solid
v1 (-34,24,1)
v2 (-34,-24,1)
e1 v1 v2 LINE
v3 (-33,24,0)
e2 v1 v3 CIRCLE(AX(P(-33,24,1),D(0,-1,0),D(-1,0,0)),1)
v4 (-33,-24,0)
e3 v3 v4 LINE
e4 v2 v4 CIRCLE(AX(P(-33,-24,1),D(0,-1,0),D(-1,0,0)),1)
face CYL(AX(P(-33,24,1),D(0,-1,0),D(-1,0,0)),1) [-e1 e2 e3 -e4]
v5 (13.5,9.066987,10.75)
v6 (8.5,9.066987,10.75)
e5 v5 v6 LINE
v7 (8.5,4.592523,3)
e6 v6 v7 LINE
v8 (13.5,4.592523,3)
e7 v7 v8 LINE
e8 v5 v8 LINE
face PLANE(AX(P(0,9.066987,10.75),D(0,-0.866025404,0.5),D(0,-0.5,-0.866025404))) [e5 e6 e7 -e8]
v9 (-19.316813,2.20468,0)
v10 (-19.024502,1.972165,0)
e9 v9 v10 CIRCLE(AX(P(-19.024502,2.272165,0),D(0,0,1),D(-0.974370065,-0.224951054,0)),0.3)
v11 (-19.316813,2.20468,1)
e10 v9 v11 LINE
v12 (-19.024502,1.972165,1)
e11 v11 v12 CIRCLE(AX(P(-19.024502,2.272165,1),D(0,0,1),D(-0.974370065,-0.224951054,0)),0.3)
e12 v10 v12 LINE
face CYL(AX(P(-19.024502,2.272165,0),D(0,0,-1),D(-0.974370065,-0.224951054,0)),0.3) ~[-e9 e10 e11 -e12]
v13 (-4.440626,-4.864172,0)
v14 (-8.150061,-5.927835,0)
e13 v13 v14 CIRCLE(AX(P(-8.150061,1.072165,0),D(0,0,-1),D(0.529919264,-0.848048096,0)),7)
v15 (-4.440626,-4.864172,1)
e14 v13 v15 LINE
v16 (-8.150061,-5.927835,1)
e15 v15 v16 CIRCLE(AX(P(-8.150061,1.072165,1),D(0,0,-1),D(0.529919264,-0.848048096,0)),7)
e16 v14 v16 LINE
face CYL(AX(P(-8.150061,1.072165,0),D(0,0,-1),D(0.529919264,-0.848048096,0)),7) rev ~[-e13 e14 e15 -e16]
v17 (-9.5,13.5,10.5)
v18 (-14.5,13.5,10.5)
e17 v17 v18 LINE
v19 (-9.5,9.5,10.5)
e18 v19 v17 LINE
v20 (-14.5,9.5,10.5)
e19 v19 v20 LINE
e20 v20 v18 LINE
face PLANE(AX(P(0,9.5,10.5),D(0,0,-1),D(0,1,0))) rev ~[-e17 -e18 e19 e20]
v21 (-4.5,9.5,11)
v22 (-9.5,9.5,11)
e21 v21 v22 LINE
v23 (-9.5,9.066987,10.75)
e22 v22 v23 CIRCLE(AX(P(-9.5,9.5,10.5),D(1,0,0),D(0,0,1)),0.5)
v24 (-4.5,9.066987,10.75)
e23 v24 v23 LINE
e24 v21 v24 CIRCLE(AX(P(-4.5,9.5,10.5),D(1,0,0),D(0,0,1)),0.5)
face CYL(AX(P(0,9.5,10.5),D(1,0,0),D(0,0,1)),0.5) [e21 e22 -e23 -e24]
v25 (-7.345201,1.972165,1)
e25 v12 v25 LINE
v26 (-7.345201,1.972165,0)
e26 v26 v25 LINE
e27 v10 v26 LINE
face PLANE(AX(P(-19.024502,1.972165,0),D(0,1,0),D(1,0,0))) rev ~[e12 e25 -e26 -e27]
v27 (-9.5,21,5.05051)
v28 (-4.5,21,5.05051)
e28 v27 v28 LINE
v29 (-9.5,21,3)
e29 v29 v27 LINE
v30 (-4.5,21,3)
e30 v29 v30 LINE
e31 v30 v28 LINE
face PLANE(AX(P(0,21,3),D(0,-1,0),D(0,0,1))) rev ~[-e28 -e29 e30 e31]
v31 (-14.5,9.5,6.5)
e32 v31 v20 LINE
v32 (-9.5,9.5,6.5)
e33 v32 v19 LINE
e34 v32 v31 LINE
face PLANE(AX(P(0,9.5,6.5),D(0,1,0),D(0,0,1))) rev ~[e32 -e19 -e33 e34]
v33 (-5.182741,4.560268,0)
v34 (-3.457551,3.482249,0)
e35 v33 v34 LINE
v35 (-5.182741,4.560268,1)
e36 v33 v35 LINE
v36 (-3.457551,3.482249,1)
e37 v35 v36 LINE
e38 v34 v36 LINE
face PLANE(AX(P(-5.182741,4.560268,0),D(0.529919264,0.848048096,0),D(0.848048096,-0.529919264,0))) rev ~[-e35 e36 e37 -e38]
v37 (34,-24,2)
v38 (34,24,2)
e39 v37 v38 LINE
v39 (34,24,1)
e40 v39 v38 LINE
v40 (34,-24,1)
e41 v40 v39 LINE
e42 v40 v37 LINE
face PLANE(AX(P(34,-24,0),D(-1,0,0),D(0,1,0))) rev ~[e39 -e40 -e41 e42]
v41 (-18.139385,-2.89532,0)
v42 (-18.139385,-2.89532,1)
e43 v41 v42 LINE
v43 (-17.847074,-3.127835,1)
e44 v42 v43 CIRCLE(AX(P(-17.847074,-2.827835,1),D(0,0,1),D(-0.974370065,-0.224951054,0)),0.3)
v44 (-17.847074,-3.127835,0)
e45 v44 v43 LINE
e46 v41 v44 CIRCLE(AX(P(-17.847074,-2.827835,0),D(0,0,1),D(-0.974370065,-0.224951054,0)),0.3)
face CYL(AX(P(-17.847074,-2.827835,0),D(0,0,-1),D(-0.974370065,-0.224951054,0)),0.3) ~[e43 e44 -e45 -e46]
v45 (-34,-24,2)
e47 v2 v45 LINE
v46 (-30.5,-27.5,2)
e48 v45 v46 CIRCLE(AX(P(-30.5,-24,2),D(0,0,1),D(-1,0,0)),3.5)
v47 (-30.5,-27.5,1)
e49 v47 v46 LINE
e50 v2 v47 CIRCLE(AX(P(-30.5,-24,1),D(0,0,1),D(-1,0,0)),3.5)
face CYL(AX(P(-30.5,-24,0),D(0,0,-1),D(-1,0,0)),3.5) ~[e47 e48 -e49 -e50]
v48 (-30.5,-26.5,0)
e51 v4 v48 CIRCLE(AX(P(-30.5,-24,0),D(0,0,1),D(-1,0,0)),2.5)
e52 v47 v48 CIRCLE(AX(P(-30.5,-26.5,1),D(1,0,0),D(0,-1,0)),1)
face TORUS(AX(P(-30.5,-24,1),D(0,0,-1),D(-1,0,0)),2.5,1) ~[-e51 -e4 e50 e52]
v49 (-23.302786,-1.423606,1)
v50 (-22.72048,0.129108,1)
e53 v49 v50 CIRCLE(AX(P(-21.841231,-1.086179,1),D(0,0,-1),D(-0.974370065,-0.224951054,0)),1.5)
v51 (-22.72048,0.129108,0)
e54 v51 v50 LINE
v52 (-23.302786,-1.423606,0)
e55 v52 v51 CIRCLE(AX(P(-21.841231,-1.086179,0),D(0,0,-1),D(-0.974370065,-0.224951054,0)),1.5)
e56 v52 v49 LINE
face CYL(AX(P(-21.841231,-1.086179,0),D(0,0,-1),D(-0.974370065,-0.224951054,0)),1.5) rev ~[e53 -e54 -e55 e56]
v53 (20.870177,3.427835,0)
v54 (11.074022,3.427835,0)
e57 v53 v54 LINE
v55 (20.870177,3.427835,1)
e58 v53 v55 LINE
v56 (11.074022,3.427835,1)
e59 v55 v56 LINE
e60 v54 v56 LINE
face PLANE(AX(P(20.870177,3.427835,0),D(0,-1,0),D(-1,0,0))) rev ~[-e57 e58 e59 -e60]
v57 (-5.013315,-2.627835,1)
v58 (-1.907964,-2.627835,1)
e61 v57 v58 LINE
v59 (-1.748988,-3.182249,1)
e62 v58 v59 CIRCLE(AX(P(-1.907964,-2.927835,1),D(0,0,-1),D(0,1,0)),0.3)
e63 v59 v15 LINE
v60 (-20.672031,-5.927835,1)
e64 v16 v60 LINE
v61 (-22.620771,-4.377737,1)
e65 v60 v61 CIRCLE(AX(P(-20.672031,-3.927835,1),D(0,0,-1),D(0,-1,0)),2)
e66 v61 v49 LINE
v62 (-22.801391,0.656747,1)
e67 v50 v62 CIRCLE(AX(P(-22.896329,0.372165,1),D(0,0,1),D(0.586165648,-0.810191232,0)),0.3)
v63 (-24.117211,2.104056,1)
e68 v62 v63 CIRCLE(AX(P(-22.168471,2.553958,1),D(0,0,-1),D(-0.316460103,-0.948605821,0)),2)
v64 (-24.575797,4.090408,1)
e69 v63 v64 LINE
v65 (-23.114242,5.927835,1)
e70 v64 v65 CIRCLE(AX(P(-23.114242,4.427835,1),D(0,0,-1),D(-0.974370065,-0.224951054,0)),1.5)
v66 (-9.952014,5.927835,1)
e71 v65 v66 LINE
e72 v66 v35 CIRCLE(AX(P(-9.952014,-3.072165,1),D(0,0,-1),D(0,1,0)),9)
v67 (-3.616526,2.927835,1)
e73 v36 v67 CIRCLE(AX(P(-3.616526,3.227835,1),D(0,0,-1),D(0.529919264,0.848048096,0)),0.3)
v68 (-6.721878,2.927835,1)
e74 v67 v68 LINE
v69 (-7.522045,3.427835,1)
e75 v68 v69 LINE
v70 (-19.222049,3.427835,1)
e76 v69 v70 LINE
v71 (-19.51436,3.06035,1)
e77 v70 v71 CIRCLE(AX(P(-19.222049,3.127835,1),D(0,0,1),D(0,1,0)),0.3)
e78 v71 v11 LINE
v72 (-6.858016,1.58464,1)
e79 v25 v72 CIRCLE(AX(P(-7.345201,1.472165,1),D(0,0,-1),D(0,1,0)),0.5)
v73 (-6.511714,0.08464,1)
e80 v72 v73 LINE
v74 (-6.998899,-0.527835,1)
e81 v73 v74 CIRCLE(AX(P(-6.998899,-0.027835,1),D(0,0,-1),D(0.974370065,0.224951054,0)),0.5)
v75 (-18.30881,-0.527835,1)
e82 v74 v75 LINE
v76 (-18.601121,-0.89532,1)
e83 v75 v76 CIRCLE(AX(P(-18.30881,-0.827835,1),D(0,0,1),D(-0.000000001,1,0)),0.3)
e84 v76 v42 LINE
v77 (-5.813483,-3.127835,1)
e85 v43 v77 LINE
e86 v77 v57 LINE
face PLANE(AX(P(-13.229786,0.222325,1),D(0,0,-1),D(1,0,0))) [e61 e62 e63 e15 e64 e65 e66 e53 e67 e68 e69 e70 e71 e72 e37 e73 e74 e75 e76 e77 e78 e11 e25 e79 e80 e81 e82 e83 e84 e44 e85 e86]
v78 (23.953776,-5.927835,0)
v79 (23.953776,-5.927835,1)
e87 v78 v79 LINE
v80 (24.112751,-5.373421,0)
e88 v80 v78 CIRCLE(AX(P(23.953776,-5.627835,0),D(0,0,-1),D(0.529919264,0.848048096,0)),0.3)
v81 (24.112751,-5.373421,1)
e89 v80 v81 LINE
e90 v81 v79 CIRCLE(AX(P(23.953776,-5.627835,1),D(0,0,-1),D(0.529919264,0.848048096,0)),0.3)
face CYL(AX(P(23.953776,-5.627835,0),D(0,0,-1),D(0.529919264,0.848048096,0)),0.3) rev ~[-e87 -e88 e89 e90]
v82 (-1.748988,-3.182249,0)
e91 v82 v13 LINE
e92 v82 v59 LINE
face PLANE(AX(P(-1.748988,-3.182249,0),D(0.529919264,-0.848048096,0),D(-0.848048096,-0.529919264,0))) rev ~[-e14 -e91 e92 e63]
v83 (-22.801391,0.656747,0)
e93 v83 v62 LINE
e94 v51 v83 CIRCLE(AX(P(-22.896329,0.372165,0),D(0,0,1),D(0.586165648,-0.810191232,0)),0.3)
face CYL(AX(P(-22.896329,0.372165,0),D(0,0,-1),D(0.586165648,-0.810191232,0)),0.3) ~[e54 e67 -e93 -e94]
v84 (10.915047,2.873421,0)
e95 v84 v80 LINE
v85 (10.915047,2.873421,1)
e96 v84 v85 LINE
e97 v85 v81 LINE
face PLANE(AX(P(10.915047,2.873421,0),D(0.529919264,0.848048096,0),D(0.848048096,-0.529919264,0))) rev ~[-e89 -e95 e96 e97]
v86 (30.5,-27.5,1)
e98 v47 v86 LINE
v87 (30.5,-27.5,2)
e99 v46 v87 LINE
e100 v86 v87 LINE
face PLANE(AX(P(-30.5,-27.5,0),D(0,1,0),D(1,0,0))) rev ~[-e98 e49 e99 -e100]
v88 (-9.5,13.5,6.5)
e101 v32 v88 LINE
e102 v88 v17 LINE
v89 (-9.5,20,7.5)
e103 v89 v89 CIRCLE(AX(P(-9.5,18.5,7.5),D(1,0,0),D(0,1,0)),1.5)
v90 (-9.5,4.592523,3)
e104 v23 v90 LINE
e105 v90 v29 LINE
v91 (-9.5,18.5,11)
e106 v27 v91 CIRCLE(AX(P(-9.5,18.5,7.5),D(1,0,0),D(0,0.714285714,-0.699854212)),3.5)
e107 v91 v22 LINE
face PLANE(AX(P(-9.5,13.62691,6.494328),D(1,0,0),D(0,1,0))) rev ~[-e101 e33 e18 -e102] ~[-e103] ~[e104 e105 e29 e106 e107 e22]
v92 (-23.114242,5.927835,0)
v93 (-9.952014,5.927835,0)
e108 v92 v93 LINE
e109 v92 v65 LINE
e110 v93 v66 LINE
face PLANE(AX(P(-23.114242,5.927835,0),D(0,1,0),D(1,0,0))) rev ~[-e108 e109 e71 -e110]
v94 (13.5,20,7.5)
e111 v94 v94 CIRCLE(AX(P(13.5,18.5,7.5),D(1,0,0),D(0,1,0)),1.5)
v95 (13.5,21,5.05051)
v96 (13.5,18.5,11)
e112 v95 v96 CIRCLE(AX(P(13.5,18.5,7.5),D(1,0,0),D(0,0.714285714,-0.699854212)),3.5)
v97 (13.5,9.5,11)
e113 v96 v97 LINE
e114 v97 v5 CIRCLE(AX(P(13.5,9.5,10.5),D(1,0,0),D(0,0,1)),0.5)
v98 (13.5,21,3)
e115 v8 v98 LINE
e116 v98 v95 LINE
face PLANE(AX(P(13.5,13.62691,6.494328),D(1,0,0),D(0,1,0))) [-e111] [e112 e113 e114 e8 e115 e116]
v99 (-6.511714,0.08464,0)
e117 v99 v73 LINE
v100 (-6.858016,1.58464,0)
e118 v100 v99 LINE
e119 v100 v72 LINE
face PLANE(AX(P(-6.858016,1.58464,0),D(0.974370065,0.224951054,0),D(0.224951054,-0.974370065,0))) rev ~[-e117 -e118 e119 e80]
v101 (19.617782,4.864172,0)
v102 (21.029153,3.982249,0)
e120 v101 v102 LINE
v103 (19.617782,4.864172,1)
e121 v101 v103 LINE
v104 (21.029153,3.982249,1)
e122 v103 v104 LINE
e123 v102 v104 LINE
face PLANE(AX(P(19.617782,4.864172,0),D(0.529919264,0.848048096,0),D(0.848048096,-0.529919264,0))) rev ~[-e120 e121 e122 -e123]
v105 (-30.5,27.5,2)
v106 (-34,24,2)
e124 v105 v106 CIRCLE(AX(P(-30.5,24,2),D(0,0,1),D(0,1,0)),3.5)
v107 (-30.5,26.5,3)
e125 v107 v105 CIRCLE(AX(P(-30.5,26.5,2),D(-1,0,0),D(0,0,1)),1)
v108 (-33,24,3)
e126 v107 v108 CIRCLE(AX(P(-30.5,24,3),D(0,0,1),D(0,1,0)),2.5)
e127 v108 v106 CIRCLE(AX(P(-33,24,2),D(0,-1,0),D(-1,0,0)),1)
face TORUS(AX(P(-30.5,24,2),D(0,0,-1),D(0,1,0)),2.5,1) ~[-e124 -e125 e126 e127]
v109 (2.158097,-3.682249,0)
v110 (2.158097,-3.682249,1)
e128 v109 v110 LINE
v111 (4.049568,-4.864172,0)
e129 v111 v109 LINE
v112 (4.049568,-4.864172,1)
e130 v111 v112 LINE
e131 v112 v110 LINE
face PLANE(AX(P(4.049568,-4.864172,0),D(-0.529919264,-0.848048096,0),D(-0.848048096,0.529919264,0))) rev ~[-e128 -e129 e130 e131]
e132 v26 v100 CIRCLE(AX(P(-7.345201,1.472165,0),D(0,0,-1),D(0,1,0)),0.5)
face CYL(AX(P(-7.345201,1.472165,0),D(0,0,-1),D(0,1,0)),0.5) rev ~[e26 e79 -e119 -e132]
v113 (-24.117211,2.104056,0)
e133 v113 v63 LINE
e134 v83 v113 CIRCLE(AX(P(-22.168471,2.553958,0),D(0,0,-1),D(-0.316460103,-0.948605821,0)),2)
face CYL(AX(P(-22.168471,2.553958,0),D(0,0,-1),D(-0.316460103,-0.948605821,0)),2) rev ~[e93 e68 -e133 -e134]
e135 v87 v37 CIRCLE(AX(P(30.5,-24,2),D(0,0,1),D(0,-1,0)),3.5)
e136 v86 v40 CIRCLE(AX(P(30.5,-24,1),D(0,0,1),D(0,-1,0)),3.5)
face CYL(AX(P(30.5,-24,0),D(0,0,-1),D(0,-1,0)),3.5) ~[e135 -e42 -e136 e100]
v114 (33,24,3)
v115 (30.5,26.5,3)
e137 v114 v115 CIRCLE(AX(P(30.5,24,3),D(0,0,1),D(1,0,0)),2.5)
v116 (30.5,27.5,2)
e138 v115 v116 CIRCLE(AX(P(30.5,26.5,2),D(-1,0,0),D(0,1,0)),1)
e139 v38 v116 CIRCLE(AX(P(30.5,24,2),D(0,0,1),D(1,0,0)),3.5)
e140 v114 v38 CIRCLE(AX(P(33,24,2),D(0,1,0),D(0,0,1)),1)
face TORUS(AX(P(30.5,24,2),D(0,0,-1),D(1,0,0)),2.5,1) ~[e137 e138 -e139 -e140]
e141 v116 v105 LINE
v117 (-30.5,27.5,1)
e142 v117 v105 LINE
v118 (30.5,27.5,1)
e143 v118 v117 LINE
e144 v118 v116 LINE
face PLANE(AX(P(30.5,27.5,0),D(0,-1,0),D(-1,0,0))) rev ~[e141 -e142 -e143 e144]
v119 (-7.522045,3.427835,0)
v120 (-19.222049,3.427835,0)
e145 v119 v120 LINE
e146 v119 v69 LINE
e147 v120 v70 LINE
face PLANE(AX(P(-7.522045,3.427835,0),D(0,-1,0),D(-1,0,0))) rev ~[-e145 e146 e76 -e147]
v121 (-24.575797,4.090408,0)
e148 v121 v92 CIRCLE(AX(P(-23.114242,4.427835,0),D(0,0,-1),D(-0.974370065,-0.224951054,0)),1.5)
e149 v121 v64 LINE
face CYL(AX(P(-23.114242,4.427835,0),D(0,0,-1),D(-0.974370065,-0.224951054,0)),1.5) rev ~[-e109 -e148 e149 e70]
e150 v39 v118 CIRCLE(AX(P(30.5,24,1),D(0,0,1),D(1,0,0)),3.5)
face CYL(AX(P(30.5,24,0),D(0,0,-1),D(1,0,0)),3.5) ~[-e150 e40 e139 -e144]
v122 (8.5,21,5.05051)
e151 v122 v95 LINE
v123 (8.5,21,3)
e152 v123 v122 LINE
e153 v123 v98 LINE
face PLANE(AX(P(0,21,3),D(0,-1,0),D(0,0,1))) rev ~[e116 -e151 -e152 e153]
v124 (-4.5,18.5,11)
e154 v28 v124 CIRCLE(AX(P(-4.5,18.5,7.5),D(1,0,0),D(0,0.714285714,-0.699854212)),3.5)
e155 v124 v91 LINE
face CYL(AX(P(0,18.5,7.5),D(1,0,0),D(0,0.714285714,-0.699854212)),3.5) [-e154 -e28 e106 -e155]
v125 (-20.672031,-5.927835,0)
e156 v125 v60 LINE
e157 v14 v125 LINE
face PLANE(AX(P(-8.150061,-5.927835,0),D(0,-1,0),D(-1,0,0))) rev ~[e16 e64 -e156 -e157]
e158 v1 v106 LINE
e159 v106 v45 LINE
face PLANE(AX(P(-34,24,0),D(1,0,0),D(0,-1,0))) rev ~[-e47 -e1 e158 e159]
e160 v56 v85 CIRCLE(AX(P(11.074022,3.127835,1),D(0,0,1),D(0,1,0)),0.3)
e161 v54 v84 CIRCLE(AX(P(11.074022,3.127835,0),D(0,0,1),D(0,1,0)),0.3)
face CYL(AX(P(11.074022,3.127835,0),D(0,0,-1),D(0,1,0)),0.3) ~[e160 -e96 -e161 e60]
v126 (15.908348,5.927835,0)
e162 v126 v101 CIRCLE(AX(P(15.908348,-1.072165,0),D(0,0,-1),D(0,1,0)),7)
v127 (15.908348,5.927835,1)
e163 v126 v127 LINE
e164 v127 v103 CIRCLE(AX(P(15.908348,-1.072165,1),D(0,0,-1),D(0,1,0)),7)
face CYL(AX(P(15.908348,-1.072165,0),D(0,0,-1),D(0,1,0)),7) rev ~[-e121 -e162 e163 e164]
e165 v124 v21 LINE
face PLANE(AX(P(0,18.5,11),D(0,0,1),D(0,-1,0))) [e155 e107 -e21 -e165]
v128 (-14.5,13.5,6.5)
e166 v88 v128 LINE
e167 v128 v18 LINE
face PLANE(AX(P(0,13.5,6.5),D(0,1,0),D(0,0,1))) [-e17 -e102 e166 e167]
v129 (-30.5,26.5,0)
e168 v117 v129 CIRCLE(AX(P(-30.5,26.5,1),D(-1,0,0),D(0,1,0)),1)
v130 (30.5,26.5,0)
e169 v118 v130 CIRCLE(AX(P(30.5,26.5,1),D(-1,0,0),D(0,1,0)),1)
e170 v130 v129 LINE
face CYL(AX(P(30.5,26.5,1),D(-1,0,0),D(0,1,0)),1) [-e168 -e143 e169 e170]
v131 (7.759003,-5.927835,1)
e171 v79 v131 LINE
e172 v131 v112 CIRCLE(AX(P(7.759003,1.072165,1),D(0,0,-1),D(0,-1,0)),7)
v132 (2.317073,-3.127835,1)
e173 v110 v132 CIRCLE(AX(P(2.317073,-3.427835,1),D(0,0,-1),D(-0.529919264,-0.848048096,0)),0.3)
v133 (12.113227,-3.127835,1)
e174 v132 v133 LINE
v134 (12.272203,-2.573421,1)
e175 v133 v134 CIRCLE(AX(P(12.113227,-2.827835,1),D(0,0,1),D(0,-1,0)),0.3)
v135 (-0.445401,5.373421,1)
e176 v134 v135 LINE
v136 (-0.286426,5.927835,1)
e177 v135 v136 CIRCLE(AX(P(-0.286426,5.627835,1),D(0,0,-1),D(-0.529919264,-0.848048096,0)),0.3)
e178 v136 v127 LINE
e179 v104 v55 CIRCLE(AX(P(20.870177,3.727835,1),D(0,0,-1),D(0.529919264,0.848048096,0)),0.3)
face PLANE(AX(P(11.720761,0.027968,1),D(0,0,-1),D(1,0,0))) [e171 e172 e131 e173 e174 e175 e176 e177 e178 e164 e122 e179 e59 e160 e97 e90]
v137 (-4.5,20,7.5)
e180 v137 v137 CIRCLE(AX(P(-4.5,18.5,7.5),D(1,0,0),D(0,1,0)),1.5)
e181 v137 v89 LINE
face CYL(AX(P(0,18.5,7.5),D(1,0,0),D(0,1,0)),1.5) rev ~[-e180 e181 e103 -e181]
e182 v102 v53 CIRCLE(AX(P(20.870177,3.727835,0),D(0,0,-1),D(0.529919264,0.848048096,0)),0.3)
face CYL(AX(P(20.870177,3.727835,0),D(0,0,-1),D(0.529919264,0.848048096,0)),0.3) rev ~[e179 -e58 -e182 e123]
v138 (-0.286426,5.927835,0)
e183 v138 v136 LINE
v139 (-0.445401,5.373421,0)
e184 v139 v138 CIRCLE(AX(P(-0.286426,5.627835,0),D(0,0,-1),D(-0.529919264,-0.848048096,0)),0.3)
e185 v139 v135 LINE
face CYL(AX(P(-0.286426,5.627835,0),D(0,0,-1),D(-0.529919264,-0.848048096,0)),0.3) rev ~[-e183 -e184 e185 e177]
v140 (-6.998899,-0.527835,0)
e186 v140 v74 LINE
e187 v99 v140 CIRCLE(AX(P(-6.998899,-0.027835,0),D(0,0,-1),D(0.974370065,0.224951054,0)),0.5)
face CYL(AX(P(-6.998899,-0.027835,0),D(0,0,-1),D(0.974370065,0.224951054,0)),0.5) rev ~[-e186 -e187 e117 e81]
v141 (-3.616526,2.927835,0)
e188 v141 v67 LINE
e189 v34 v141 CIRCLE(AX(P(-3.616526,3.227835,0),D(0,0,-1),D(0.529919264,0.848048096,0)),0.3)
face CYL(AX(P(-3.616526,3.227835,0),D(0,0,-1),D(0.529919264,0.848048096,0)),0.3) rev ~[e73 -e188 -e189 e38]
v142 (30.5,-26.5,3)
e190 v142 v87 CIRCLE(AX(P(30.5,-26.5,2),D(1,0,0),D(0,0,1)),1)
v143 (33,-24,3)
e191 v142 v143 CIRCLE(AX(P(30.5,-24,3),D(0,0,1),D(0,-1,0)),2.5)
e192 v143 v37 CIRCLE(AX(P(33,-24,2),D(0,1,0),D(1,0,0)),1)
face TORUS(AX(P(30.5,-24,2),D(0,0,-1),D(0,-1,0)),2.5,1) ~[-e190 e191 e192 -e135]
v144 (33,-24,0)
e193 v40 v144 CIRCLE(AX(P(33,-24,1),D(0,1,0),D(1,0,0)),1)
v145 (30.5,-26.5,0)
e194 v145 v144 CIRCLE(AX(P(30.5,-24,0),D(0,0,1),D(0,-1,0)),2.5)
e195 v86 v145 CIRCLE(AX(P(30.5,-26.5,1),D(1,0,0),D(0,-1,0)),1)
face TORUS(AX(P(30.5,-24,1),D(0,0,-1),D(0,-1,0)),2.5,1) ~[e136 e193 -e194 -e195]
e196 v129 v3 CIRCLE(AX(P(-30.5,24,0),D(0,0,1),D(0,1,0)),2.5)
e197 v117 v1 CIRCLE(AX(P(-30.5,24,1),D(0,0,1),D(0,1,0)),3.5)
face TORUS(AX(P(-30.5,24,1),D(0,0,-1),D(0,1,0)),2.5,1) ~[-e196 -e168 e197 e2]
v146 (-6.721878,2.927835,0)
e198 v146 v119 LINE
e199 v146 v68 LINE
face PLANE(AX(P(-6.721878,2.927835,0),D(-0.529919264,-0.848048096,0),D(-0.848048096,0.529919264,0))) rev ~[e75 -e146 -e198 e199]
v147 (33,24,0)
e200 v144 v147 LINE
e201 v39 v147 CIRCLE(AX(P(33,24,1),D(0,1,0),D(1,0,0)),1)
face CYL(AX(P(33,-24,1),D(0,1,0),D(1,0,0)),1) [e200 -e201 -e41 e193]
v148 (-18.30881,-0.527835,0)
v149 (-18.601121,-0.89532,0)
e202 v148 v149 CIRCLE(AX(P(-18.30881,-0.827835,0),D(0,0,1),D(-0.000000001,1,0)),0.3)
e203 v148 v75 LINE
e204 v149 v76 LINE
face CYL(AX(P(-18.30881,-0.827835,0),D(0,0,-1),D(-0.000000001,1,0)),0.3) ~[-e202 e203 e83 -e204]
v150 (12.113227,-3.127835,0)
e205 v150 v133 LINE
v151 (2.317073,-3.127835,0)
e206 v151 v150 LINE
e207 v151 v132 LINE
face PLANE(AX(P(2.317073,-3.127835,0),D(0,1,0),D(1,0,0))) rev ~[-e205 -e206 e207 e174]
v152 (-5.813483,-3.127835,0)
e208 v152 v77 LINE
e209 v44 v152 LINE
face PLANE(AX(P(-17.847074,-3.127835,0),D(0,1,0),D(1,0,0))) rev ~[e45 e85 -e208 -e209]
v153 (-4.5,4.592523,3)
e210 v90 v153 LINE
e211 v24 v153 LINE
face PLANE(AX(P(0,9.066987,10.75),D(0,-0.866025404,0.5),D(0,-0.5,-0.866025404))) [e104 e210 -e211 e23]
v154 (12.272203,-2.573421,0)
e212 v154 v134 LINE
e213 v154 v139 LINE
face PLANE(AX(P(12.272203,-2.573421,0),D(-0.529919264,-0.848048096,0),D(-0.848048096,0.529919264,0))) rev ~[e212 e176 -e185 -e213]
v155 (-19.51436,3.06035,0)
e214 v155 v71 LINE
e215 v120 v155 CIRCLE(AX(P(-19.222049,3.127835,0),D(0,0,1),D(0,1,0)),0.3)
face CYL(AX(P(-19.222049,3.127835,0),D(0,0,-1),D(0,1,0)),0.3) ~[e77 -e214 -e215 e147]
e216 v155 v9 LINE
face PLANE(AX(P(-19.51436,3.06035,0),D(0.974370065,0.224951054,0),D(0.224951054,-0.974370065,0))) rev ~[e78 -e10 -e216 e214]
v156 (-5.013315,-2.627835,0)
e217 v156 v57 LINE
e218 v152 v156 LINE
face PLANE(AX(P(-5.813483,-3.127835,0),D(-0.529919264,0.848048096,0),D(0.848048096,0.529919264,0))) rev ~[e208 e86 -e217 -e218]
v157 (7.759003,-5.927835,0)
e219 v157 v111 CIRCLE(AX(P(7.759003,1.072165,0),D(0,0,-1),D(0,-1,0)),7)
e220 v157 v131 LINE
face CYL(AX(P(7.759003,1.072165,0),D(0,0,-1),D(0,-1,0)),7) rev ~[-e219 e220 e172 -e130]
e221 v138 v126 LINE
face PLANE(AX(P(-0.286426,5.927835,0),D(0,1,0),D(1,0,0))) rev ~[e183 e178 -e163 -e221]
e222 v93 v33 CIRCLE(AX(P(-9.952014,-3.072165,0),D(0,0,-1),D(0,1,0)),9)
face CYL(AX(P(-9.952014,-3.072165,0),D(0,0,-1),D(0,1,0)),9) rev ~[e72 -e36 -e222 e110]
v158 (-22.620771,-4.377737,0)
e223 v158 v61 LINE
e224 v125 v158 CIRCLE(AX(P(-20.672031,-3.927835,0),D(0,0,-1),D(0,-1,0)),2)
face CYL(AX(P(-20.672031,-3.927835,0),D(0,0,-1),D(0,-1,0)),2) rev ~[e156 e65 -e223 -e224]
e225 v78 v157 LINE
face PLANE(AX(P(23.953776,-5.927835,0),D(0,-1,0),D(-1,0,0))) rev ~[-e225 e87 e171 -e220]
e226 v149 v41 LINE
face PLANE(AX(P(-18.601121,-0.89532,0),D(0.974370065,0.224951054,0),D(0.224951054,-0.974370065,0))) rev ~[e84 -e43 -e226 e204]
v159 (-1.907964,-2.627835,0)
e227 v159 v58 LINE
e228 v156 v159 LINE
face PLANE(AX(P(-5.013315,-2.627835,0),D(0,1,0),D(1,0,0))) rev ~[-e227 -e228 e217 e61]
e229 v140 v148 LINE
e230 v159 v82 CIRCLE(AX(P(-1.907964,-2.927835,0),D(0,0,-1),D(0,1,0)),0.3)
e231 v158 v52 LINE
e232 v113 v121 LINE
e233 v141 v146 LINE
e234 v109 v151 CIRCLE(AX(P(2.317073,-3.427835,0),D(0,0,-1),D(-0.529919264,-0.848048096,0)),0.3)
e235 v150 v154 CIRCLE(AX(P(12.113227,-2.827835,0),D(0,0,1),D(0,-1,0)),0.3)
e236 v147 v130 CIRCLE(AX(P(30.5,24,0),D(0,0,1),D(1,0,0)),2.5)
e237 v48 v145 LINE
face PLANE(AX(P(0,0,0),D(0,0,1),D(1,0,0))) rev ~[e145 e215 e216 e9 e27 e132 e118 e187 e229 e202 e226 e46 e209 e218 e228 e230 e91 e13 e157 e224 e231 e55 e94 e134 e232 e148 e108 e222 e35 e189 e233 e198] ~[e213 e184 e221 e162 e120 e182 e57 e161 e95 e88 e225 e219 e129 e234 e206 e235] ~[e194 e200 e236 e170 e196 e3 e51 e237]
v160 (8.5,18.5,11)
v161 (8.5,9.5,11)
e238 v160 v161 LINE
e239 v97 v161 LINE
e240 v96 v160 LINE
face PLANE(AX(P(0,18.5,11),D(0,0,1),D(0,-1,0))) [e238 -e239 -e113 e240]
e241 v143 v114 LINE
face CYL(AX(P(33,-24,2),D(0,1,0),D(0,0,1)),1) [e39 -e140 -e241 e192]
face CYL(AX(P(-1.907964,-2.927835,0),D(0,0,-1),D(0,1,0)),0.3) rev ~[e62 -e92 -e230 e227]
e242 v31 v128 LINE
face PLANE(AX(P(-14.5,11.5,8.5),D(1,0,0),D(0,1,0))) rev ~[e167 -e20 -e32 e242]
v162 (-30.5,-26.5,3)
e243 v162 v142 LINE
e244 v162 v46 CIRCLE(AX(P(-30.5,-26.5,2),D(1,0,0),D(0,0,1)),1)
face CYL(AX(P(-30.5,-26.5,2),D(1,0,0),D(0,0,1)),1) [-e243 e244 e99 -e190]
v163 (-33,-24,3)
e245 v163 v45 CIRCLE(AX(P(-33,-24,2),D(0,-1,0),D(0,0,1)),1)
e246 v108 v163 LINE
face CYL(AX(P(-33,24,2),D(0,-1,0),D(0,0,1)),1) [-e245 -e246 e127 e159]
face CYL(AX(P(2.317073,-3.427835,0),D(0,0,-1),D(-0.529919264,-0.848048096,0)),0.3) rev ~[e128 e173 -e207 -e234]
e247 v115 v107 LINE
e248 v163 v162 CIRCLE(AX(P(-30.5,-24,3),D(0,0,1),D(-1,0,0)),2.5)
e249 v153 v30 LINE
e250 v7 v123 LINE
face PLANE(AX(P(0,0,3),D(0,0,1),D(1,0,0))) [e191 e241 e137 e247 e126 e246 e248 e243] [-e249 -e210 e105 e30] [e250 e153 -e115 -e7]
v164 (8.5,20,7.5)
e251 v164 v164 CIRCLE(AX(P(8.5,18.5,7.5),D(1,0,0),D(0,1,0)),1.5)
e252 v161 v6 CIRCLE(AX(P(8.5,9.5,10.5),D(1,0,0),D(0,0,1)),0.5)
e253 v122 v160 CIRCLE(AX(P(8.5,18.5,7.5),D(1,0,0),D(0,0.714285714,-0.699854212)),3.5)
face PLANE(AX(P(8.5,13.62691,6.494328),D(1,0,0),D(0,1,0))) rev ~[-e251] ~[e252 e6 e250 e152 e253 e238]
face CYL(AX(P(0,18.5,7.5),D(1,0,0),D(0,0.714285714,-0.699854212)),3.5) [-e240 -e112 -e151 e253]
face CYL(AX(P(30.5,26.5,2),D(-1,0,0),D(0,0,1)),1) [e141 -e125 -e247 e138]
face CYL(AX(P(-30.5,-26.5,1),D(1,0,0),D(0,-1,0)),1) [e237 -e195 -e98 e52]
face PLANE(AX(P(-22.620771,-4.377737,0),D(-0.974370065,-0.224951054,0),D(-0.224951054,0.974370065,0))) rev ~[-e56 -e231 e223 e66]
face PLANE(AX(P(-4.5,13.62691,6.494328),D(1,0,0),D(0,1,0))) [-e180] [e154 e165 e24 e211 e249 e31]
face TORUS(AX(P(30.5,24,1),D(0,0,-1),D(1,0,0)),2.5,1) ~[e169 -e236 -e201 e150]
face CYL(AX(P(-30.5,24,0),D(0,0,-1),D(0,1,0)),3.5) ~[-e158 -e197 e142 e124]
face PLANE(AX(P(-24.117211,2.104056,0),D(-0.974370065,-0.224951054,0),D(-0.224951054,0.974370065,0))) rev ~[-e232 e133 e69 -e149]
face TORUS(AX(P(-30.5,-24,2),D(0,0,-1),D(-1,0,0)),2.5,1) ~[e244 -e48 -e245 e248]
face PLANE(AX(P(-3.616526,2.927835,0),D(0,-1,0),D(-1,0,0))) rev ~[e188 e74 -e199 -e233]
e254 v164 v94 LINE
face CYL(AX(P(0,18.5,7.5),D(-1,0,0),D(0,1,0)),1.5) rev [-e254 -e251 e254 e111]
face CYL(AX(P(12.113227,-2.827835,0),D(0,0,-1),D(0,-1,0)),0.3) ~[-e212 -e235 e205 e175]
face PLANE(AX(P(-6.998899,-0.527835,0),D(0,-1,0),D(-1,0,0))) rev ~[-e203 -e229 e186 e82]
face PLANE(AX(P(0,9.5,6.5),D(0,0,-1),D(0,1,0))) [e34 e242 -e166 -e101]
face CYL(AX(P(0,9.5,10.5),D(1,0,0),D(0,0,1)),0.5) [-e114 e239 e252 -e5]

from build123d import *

# Parameters (mm, degrees)
F1_DEPTH      = 3
F2_R          = 1.5
F2_W          = 4
F2_H          = 4
F3_DEPTH      = 13.5
F3_DEPTH_BACK = 9.5
F4_DEPTH      = 14.5
F5_DEPTH      = 8.5
F5_DEPTH_BACK = 4.5
F6_R          = 1
F9_DEPTH      = 1


with BuildPart() as f1:
    # F0 (on Top) → F1 (new body)
    with BuildSketch(Plane.XY):
        with BuildLine():
            Line((30.5, 27.5), (-30.5, 27.5))
            ThreePointArc((-30.5, 27.5), (-32.9748737342, 26.4748737342), (-34, 24))
            Line((-34, 24), (-34, -24))
            ThreePointArc((-34, -24), (-32.9748737342, -26.4748737342), (-30.5, -27.5))
            Line((-30.5, -27.5), (30.5, -27.5))
            ThreePointArc((30.5, -27.5), (32.9748737342, -26.4748737342), (34, -24))
            Line((34, -24), (34, 24))
            ThreePointArc((34, 24), (32.9748737342, 26.4748737342), (30.5, 27.5))
        make_face()
    extrude(amount=F1_DEPTH)

    # F2 (on Right) → F3 (join, two sides)
    with BuildSketch(Plane.YZ) as f3_sk:
        with BuildLine():
            Line((9.0669872981, 10.75), (4.5925227119, 3))
            Line((4.5925227119, 3), (21, 3))
            Line((21, 3), (21, 5.0505102572))
            ThreePointArc((21, 5.0505102572), (21.7267021942, 8.8558735008), (18.5, 11))
            Line((18.5, 11), (9.5, 11))
            ThreePointArc((9.5, 11), (9.25, 10.9330127019), (9.0669872981, 10.75))
        make_face()
        with Locations((18.5, 7.5)):
            Circle(F2_R, mode=Mode.SUBTRACT)
        with Locations((11.5, 8.5)):
            Rectangle(F2_W, F2_H, mode=Mode.SUBTRACT)
        with Locations((11.5, 8.5)):
            Rectangle(F2_W, F2_H)
    extrude(amount=F3_DEPTH)
    extrude(f3_sk.sketch, amount=-F3_DEPTH_BACK)

    # F2 (on Right) → F4 (join, through all)
    with BuildSketch(Plane.YZ):
        with Locations((11.5, 8.5)):
            Rectangle(F2_W, F2_H)
    extrude(amount=-F4_DEPTH)

    # F2 (on Right) → F5 (cut, two sides)
    with BuildSketch(Plane.YZ) as f5_sk:
        with BuildLine():
            Line((9.0669872981, 10.75), (4.5925227119, 3))
            Line((4.5925227119, 3), (21, 3))
            Line((21, 3), (21, 5.0505102572))
            ThreePointArc((21, 5.0505102572), (21.7267021942, 8.8558735008), (18.5, 11))
            Line((18.5, 11), (9.5, 11))
            ThreePointArc((9.5, 11), (9.25, 10.9330127019), (9.0669872981, 10.75))
        make_face()
        with Locations((18.5, 7.5)):
            Circle(F2_R, mode=Mode.SUBTRACT)
        with Locations((11.5, 8.5)):
            Rectangle(F2_W, F2_H, mode=Mode.SUBTRACT)
        with Locations((11.5, 8.5)):
            Rectangle(F2_W, F2_H)
    extrude(amount=F5_DEPTH, mode=Mode.SUBTRACT)
    extrude(f5_sk.sketch, amount=-F5_DEPTH_BACK, mode=Mode.SUBTRACT)

    # F6
    f6_edges = [f1.edges().sort_by_distance(p)[0] for p in [
        (0, -27.5, 0),
        (0, -27.5, 3),
    ]]
    fillet(f6_edges, radius=F6_R)

    # F8 (on face) → F9 (cut)
    with BuildSketch(Plane(origin=(0, 0, 0), x_dir=(1, 0, 0), z_dir=(0, 0, -1))):
        with BuildLine():
            Line((19.6177823817, -4.8641717246), (21.0291530011, -3.9822494804))
            ThreePointArc((21.0291530011, -3.9822494804), (21.1585557306, -3.6451438448), (20.8701772218, -3.4278350515))
            Line((20.8701772218, -3.4278350515), (11.0740224249, -3.4278350515))
            ThreePointArc((11.0740224249, -3.4278350515), (10.7856439161, -3.2105262583), (10.9150466456, -2.8734206227))
            Line((10.9150466456, -2.8734206227), (24.1127514461, 5.3734206227))
            ThreePointArc((24.1127514461, 5.3734206227), (24.2421541756, 5.7105262583), (23.9537756668, 5.9278350515))
            Line((23.9537756668, 5.9278350515), (7.7590025694, 5.9278350515))
            ThreePointArc((7.7590025694, 5.9278350515), (5.8295410786, 5.6566669231), (4.0495677197, 4.8641717246))
            Line((4.0495677197, 4.8641717246), (2.1580967416, 3.6822494804))
            ThreePointArc((2.1580967416, 3.6822494804), (2.0286940121, 3.3451438448), (2.3170725209, 3.1278350515))
            Line((2.3170725209, 3.1278350515), (12.1132273178, 3.1278350515))
            ThreePointArc((12.1132273178, 3.1278350515), (12.4016058266, 2.9105262583), (12.2722030971, 2.5734206227))
            Line((12.2722030971, 2.5734206227), (-0.4454013447, -5.3734206227))
            ThreePointArc((-0.4454013447, -5.3734206227), (-0.5748040742, -5.7105262583), (-0.2864255655, -5.9278350515))
            Line((-0.2864255655, -5.9278350515), (15.908347532, -5.9278350515))
            ThreePointArc((15.908347532, -5.9278350515), (17.8378090227, -5.6566669231), (19.6177823817, -4.8641717246))
        make_face()
        with BuildLine():
            Line((-5.1827407197, -4.560267917), (-3.4575505927, -3.4822494804))
            ThreePointArc((-3.4575505927, -3.4822494804), (-3.3281478632, -3.1451438448), (-3.616526372, -2.9278350515))
            Line((-3.616526372, -2.9278350515), (-6.7218778514, -2.9278350515))
            Line((-6.7218778514, -2.9278350515), (-7.5220451159, -3.4278350515))
            Line((-7.5220451159, -3.4278350515), (-19.2220485259, -3.4278350515))
            ThreePointArc((-19.2220485259, -3.4278350515), (-19.4568309729, -3.3145894425), (-19.5143595453, -3.0603497352))
            Line((-19.5143595453, -3.0603497352), (-19.3168125364, -2.2046796322))
            ThreePointArc((-19.3168125364, -2.2046796322), (-19.211255908, -2.0373825014), (-19.024501517, -1.9721649485))
            Line((-19.024501517, -1.9721649485), (-7.3452009568, -1.9721649485))
            ThreePointArc((-7.3452009568, -1.9721649485), (-7.0339436385, -1.8634690269), (-6.8580159244, -1.5846404756))
            Line((-6.8580159244, -1.5846404756), (-6.5117136377, -0.0846404756))
            ThreePointArc((-6.5117136377, -0.0846404756), (-6.6075945917, 0.3390923699), (-6.9988986701, 0.5278350515))
            Line((-6.9988986701, 0.5278350515), (-18.3088101245, 0.5278350515))
            ThreePointArc((-18.3088101245, 0.5278350515), (-18.5435925715, 0.6410806606), (-18.6011211439, 0.8953203678))
            Line((-18.6011211439, 0.8953203678), (-18.1393847617, 2.8953203678))
            ThreePointArc((-18.1393847617, 2.8953203678), (-18.0338281332, 3.0626174986), (-17.8470737422, 3.1278350515))
            Line((-17.8470737422, 3.1278350515), (-5.8134825092, 3.1278350515))
            Line((-5.8134825092, 3.1278350515), (-5.0133152446, 2.6278350515))
            Line((-5.0133152446, 2.6278350515), (-1.9079637652, 2.6278350515))
            ThreePointArc((-1.9079637652, 2.6278350515), (-1.6195852564, 2.8451438448), (-1.748987986, 3.1822494804))
            Line((-1.748987986, 3.1822494804), (-4.4406262286, 4.8641717246))
            ThreePointArc((-4.4406262286, 4.8641717246), (-6.2205995875, 5.6566669231), (-8.1500610782, 5.9278350515))
            Line((-8.1500610782, 5.9278350515), (-20.6720310554, 5.9278350515))
            ThreePointArc((-20.6720310554, 5.9278350515), (-21.9170603287, 5.4930513653), (-22.620771185, 4.3777371602))
            Line((-22.620771185, 4.3777371602), (-23.3027861367, 1.4236058509))
            ThreePointArc((-23.3027861367, 1.4236058509), (-23.2457131813, 0.5594631094), (-22.7204795121, -0.1291075788))
            ThreePointArc((-22.7204795121, -0.1291075788), (-22.5997954695, -0.4176373884), (-22.8013911757, -0.6567466947))
            ThreePointArc((-22.8013911757, -0.6567466947), (-23.6483083742, -1.208565733), (-24.1172110997, -2.1040562277))
            Line((-24.1172110997, -2.1040562277), (-24.5757966488, -4.09040847))
            ThreePointArc((-24.5757966488, -4.09040847), (-24.2881537869, -5.3616070065), (-23.1142415516, -5.9278350515))
            Line((-23.1142415516, -5.9278350515), (-9.9520140978, -5.9278350515))
            ThreePointArc((-9.9520140978, -5.9278350515), (-7.4712778955, -5.579190315), (-5.1827407197, -4.560267917))
        make_face()
    extrude(amount=-F9_DEPTH, mode=Mode.SUBTRACT)


solid = f1.part
